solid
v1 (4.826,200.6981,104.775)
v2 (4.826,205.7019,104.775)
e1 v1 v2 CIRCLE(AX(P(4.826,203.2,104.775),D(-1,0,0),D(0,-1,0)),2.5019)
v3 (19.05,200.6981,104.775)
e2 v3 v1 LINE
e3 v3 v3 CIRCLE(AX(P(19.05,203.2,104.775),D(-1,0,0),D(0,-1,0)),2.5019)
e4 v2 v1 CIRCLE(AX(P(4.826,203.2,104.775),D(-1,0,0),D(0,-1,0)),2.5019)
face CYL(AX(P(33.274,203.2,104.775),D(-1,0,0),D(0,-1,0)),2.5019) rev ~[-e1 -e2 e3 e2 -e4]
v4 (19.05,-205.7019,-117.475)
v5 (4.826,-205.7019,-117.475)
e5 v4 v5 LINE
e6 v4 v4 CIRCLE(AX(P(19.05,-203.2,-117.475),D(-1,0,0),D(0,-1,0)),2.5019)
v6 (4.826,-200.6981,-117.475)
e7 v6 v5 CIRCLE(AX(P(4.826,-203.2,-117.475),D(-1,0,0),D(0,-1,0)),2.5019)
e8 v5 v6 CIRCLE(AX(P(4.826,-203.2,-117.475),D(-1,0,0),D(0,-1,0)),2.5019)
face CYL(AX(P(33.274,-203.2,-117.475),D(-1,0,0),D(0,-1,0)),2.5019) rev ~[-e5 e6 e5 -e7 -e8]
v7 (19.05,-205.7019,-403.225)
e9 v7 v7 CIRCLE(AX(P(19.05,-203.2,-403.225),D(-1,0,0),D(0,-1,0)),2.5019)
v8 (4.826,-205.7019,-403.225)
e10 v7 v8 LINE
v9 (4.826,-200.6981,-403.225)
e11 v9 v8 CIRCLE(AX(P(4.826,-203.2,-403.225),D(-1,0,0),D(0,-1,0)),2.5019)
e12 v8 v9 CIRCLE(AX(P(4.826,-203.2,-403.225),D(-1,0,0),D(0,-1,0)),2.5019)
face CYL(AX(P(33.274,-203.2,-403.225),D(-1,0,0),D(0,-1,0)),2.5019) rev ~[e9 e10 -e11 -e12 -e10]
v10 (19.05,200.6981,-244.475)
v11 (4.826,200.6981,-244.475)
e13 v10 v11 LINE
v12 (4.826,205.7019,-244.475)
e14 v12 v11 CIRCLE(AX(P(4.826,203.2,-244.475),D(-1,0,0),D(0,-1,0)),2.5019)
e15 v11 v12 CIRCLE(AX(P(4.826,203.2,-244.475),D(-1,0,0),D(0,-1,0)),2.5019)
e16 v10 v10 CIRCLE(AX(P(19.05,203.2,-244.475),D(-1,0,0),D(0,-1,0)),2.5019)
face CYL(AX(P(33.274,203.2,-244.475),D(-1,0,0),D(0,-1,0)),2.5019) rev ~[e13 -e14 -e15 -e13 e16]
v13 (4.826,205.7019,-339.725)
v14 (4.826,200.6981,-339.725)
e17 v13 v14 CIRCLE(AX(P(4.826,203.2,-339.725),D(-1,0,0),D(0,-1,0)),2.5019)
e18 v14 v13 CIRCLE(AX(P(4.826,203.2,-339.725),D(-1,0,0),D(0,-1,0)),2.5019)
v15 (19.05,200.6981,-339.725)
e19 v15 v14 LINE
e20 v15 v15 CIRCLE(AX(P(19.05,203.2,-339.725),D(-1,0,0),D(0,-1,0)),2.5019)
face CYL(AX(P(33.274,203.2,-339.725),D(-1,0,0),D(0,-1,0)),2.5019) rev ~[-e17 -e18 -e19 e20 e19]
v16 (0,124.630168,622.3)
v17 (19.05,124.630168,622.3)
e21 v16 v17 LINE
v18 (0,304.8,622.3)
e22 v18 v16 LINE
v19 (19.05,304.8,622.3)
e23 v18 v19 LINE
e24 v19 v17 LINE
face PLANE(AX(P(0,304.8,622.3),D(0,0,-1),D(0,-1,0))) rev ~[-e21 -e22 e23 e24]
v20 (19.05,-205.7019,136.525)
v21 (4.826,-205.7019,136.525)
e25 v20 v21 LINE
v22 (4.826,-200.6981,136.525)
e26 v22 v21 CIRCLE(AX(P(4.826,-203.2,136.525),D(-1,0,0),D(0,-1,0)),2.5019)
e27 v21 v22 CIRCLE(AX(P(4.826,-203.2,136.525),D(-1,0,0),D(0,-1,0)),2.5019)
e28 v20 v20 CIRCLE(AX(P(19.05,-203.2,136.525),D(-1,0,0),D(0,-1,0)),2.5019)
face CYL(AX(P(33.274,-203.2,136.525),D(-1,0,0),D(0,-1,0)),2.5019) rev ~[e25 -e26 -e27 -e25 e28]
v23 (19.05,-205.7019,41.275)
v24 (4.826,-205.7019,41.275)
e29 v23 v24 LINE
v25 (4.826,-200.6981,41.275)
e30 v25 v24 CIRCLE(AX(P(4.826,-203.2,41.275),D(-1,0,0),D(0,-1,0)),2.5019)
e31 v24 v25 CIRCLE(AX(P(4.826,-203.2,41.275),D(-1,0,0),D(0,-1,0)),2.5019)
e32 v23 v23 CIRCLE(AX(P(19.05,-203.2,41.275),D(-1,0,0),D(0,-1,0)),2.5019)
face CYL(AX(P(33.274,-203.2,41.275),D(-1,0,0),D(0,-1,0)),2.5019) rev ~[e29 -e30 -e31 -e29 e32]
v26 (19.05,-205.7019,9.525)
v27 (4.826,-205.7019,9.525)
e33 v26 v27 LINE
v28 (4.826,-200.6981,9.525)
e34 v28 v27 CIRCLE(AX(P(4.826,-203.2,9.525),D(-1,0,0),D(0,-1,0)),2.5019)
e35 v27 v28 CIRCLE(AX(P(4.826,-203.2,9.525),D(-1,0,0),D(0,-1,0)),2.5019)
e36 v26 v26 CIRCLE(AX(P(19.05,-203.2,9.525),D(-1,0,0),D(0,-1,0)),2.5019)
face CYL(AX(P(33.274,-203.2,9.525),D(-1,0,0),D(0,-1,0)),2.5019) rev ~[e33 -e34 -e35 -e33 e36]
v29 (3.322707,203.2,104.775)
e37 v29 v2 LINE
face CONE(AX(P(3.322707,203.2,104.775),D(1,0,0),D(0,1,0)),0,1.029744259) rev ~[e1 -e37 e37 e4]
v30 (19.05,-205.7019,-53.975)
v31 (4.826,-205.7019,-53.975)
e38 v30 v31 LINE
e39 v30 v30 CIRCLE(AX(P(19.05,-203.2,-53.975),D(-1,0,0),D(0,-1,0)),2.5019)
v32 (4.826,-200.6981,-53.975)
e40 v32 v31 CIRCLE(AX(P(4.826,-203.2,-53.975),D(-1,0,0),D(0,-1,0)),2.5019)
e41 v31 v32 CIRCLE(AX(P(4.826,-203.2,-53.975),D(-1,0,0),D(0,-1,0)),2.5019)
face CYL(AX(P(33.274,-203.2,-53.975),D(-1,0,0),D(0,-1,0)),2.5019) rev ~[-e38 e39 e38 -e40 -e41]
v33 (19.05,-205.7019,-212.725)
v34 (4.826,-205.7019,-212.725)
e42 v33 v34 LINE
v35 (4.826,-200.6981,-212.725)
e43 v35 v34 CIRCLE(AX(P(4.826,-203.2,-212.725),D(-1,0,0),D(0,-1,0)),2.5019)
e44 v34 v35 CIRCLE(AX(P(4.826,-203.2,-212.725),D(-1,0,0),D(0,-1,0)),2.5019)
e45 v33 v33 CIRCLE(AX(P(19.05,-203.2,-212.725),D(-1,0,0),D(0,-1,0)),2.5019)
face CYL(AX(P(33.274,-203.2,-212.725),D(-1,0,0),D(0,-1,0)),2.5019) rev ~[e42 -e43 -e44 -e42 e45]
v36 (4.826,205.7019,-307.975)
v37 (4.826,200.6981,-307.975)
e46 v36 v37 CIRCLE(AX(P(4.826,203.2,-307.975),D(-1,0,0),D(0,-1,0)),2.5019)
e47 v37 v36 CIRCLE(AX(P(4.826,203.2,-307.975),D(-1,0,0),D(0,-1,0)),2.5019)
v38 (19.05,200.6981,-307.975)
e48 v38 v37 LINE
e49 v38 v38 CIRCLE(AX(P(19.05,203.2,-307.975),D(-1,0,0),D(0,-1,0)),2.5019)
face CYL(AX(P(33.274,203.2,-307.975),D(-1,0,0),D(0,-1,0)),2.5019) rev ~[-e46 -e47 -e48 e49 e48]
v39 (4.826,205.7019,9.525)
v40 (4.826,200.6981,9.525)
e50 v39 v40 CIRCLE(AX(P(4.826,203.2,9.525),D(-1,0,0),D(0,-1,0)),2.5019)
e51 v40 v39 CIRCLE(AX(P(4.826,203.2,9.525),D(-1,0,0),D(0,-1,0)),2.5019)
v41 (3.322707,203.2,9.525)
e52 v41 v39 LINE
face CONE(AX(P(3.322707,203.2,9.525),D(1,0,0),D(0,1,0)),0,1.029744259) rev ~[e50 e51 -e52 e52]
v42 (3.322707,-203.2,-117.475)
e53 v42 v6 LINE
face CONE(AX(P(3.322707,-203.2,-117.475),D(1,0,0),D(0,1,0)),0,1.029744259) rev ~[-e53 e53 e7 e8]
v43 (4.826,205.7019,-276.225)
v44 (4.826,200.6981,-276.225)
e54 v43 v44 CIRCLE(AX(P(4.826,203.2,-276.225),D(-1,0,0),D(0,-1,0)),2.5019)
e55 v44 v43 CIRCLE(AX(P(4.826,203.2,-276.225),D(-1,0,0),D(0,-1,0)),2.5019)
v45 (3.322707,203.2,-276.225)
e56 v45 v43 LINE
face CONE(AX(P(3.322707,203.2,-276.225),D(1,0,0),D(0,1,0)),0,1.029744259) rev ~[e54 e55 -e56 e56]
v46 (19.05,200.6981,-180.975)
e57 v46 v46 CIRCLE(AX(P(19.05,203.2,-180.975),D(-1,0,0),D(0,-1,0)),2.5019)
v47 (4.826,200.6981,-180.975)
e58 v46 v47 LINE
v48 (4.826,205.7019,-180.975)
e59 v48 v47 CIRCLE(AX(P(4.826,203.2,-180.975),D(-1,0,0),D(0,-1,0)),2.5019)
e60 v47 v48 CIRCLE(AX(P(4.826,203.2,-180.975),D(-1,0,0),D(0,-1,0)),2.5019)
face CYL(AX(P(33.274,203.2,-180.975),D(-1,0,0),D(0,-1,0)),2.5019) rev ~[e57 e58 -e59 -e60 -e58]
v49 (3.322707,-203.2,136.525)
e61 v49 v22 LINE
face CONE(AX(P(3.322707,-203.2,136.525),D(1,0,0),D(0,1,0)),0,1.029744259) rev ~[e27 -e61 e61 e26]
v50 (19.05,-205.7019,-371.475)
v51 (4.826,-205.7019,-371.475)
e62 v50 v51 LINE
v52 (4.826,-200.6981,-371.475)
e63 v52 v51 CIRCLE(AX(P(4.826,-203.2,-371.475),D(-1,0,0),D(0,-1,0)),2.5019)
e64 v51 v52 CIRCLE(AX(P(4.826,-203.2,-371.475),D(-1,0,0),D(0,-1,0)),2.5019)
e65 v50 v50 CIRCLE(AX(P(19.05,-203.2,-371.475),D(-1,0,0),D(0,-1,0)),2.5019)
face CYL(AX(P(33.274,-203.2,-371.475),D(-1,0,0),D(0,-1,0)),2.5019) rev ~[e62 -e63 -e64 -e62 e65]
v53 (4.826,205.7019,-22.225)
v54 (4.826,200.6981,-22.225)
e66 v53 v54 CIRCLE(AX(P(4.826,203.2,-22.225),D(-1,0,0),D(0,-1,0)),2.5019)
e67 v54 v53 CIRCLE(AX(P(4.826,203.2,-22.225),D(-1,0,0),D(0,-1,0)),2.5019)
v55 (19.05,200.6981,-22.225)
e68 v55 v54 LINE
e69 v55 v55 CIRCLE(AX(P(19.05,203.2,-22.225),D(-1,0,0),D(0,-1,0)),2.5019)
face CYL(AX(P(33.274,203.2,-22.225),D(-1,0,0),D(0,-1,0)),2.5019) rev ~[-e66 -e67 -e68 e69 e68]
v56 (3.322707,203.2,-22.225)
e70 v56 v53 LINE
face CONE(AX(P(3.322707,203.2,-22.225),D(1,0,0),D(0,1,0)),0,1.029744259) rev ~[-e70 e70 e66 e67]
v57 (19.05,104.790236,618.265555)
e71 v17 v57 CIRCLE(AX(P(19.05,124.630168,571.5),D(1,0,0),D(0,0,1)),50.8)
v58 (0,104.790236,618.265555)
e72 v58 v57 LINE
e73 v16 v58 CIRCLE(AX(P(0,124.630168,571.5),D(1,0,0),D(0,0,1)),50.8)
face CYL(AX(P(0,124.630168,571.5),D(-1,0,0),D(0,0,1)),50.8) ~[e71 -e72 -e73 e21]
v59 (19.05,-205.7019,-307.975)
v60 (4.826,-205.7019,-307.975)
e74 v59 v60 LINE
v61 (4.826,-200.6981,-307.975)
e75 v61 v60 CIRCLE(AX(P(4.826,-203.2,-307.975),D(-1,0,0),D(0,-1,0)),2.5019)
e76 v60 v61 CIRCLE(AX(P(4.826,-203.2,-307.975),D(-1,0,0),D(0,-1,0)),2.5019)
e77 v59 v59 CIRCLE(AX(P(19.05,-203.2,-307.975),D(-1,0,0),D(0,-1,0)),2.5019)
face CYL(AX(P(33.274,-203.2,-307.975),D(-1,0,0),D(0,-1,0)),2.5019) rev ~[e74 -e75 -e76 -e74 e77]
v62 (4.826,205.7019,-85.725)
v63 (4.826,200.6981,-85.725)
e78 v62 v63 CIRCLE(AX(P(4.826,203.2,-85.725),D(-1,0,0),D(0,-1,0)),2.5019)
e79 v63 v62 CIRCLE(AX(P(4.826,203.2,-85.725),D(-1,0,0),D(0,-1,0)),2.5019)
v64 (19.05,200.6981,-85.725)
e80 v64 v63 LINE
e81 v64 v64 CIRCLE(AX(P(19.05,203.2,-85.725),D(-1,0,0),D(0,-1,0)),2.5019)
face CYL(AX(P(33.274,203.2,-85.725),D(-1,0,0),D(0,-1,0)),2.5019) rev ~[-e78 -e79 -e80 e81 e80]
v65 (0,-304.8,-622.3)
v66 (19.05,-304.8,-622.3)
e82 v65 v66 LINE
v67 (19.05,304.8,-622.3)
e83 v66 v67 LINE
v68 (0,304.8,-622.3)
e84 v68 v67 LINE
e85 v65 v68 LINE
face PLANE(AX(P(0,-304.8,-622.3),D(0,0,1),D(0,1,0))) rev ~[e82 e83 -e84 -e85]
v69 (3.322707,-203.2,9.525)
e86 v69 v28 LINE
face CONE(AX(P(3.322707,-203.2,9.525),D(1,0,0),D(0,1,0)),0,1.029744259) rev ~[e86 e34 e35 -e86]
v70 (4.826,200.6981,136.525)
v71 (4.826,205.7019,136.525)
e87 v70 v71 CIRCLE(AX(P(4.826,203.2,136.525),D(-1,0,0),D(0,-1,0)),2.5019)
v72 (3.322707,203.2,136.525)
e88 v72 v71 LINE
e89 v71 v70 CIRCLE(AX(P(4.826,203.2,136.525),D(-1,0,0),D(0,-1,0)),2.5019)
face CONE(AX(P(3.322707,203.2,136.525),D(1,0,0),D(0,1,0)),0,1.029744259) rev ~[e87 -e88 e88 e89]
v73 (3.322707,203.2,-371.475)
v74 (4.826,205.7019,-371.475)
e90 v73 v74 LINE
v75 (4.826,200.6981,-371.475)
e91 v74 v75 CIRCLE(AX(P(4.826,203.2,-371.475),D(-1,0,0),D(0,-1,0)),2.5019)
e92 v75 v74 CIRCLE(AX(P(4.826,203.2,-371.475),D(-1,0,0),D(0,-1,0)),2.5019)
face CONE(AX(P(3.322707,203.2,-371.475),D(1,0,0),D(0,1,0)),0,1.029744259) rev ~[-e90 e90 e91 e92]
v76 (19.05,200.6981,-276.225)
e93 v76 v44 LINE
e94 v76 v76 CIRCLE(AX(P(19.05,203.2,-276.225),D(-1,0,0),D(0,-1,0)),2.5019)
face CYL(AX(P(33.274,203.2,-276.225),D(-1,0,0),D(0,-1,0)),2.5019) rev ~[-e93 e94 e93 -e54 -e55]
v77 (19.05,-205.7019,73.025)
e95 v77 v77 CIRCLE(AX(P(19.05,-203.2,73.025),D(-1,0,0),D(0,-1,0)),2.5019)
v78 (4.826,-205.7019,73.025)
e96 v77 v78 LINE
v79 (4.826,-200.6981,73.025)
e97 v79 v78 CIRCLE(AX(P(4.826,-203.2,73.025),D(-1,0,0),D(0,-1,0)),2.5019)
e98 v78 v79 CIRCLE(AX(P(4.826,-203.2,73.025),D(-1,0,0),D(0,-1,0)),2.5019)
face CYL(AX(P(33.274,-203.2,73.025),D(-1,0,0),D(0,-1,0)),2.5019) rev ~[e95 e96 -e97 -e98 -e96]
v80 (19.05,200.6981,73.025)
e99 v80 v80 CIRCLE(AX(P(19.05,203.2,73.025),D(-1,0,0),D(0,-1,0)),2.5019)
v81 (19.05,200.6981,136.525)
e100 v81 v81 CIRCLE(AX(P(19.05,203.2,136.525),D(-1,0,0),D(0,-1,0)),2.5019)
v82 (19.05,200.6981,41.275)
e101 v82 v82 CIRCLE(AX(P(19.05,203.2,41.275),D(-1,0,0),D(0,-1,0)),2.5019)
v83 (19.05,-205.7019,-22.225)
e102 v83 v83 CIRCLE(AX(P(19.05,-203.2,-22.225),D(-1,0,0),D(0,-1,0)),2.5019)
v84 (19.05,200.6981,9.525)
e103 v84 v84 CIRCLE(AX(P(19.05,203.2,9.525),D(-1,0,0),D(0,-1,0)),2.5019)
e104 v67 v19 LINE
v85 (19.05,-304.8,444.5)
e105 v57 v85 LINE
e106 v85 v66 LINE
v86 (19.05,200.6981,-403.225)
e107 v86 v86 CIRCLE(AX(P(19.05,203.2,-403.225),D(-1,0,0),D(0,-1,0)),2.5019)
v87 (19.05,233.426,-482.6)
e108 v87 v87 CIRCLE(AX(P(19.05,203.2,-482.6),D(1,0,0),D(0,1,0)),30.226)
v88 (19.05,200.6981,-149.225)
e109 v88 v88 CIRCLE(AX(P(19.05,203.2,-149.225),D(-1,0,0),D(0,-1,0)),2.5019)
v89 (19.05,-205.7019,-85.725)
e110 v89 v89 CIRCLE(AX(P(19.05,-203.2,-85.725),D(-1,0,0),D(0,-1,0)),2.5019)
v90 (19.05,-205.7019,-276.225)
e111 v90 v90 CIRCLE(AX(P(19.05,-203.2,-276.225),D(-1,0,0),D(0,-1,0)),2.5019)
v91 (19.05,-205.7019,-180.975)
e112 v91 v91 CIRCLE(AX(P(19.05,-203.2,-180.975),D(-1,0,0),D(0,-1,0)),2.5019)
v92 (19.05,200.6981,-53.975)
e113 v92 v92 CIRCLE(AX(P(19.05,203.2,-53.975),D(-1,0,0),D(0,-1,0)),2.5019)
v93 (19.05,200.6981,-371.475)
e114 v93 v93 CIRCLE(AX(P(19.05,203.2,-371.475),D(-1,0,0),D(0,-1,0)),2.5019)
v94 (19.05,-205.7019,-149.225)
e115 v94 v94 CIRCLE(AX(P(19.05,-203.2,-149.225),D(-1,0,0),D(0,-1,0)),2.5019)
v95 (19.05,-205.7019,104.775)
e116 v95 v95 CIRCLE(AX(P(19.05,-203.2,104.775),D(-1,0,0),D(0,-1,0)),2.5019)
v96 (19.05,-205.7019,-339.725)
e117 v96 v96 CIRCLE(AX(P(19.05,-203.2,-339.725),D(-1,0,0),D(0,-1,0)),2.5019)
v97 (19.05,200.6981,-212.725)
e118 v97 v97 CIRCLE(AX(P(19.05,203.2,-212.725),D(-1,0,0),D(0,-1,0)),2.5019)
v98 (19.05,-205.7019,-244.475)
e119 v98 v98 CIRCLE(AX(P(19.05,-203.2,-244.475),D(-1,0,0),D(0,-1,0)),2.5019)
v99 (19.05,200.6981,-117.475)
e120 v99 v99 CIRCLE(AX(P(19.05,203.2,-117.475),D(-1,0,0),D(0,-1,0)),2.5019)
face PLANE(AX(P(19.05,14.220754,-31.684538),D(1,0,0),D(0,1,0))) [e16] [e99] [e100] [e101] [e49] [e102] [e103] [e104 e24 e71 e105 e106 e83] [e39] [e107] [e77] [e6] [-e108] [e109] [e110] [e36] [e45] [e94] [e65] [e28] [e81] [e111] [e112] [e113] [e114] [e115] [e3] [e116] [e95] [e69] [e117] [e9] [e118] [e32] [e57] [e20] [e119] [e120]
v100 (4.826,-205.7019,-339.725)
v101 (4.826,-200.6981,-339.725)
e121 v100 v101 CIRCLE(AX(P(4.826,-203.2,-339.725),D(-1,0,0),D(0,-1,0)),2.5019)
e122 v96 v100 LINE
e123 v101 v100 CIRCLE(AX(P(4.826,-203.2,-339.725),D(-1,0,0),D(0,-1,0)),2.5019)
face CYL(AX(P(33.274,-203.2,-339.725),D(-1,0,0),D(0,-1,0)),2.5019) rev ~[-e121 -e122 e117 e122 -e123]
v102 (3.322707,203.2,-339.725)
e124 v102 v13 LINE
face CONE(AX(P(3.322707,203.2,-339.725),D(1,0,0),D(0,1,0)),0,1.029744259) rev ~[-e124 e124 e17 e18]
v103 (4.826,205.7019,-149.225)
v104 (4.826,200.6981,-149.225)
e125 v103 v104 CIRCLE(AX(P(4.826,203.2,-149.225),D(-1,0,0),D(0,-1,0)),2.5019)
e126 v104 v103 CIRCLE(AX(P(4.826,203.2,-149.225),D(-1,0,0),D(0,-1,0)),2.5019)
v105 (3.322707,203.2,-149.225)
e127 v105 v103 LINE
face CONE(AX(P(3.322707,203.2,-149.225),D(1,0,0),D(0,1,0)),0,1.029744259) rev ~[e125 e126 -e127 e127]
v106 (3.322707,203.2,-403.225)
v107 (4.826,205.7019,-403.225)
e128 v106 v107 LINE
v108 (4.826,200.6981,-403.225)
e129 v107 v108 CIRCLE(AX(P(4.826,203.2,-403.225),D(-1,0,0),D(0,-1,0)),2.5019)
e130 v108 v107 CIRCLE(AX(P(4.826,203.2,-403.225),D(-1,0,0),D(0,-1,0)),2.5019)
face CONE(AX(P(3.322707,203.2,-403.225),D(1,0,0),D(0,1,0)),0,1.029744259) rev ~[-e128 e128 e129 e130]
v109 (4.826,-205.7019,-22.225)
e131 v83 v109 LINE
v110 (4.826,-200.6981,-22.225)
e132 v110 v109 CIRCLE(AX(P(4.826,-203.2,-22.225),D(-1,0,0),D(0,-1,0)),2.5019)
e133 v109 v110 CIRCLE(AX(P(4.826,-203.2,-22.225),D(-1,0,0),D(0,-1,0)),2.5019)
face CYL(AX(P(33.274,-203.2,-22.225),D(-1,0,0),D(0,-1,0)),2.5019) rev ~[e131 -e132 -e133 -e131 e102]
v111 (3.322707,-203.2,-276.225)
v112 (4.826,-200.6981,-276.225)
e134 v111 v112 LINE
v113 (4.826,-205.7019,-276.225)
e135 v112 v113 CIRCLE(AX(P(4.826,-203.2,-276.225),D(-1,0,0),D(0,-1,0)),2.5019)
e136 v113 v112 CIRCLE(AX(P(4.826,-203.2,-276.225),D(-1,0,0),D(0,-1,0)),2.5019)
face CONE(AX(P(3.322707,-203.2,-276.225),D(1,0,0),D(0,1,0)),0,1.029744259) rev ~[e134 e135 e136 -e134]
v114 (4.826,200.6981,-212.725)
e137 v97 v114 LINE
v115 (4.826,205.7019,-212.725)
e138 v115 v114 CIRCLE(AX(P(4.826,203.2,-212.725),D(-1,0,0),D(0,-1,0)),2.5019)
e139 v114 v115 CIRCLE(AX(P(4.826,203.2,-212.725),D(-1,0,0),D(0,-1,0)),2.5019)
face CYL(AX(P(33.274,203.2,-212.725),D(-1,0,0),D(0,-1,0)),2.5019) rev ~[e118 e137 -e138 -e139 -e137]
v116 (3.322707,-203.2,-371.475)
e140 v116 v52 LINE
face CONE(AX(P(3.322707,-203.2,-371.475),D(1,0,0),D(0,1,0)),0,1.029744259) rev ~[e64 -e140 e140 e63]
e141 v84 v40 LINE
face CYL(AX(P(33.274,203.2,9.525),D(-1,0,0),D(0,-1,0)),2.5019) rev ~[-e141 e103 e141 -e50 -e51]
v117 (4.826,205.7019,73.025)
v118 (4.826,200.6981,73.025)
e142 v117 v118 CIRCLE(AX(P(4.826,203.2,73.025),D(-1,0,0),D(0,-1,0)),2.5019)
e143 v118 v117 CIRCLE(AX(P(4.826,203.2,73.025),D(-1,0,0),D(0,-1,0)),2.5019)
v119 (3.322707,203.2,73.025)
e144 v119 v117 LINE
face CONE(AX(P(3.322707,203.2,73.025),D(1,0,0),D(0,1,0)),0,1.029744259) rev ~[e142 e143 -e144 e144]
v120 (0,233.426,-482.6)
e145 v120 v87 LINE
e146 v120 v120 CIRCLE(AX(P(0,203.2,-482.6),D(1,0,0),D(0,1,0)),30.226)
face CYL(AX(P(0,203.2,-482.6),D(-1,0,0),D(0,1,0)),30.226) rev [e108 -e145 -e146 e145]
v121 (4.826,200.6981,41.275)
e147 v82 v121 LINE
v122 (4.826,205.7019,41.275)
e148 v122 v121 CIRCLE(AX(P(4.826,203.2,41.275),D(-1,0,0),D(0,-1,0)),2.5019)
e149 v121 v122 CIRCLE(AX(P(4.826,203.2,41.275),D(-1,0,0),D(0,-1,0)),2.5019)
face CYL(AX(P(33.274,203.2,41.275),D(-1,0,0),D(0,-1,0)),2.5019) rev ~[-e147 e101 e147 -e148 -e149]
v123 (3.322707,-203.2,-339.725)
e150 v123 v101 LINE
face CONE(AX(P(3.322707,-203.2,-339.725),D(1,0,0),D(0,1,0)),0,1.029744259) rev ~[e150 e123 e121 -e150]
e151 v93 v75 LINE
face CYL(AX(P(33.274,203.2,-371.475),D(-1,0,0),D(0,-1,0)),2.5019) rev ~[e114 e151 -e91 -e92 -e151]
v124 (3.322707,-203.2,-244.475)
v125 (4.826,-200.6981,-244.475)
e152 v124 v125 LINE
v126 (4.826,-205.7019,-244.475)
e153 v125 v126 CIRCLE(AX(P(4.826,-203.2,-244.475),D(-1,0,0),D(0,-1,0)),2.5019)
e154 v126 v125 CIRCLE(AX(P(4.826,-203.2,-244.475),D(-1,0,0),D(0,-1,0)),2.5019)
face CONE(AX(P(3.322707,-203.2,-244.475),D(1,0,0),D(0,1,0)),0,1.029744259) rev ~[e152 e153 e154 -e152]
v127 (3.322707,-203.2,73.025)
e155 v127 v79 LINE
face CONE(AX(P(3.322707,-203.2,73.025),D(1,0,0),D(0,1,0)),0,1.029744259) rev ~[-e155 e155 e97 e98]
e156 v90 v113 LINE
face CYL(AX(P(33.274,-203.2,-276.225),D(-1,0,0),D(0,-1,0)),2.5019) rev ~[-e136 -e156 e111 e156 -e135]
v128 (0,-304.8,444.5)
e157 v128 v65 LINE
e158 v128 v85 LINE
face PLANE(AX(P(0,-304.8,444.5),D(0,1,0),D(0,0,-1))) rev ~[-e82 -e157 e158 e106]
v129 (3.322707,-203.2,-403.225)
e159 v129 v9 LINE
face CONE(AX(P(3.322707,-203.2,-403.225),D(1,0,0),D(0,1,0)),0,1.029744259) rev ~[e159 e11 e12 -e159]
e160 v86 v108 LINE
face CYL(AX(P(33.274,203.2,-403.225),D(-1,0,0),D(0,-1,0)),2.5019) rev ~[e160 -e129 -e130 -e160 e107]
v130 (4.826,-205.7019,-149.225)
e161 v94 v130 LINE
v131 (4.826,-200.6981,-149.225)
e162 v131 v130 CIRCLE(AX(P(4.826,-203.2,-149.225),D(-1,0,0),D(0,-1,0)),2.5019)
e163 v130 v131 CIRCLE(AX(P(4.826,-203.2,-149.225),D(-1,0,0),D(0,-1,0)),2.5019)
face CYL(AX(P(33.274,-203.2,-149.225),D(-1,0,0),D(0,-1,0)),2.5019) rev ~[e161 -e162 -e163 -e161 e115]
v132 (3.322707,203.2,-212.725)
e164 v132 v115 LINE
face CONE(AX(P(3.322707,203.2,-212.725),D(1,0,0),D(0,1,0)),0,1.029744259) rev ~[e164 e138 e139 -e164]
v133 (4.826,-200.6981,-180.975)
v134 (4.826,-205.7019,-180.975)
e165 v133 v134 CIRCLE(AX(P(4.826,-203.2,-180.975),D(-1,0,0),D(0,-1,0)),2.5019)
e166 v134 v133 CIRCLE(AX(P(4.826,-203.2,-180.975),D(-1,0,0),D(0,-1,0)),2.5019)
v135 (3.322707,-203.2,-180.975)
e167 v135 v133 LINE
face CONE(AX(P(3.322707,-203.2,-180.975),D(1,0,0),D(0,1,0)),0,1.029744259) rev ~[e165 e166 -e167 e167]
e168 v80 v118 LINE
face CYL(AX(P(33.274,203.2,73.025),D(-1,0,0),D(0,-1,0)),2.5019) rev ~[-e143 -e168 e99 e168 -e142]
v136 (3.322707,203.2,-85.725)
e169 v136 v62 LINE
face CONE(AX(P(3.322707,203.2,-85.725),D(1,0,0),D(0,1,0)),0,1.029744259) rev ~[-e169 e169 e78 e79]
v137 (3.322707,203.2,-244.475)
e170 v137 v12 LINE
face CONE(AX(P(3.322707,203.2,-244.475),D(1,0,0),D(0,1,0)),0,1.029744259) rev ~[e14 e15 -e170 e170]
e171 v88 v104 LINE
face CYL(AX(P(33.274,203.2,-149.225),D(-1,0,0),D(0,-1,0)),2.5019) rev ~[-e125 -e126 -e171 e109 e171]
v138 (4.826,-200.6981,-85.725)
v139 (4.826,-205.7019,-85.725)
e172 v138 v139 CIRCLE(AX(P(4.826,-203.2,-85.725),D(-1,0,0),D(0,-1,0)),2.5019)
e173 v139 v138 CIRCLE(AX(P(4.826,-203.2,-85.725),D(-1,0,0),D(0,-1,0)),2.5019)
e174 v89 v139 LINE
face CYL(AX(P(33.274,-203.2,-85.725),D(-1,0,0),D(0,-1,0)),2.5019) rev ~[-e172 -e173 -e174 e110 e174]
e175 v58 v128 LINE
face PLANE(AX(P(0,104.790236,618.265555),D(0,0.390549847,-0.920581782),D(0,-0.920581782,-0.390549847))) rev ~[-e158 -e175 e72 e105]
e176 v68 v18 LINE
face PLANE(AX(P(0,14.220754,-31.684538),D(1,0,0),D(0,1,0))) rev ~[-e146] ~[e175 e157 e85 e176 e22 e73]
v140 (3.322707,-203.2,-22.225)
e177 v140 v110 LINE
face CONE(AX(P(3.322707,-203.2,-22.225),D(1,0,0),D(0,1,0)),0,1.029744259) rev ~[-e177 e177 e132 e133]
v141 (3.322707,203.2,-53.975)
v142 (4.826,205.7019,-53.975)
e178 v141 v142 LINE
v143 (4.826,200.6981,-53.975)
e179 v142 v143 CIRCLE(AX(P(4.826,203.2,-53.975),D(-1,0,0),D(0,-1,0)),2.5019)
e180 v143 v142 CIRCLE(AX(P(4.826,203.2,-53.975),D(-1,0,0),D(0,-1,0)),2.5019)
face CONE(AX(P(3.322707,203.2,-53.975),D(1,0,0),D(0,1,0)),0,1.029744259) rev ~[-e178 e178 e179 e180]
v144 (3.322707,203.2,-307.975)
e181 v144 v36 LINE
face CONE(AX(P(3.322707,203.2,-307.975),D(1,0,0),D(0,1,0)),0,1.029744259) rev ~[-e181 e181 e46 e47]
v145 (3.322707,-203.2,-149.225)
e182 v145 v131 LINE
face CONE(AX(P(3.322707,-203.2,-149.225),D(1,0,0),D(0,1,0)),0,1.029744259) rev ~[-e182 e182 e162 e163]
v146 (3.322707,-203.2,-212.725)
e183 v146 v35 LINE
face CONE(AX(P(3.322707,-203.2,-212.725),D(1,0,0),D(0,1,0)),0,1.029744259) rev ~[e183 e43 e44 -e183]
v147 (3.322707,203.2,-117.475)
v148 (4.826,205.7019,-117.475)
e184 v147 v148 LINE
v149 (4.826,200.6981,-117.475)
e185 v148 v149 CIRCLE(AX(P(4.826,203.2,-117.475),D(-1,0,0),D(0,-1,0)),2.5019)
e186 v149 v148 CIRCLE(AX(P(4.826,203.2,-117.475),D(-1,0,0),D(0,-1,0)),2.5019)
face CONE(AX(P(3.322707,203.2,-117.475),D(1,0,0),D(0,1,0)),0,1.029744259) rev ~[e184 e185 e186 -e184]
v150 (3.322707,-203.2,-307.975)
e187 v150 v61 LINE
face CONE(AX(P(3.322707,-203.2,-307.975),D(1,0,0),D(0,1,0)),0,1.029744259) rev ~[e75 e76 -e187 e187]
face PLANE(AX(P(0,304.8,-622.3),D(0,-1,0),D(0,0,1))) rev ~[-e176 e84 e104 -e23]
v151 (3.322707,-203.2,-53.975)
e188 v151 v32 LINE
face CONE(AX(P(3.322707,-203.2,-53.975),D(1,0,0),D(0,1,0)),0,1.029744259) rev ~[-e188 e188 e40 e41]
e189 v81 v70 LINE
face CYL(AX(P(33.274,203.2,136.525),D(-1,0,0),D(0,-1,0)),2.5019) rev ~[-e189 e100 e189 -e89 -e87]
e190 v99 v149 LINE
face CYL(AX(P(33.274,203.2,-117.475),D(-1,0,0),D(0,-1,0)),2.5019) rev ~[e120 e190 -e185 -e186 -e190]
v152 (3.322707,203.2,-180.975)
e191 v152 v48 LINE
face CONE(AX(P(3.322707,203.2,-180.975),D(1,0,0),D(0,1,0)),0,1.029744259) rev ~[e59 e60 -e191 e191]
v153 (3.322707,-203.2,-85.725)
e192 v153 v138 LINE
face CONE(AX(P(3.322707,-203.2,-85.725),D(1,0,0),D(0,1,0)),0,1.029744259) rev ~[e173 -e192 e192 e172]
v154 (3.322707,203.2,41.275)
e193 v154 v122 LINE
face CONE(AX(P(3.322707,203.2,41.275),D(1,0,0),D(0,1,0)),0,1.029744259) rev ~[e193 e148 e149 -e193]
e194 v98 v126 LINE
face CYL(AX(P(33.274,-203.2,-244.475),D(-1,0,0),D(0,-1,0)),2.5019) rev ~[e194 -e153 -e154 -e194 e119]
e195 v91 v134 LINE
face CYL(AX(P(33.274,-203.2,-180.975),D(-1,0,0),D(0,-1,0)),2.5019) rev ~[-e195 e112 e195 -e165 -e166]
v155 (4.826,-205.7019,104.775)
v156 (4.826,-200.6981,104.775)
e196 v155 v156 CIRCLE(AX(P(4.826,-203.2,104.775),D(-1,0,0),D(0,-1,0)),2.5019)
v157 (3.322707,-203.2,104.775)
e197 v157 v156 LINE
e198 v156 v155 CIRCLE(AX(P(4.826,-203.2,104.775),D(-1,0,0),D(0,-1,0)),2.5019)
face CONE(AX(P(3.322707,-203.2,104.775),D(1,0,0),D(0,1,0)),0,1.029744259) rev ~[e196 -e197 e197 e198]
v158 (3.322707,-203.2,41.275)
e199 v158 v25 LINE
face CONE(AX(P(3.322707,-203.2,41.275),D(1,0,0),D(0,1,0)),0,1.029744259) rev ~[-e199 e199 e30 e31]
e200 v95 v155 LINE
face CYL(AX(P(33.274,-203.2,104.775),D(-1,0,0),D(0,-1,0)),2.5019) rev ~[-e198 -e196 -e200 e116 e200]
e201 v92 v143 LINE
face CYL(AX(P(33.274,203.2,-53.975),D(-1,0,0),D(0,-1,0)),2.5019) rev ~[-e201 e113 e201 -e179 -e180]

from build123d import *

# Parameters (mm, degrees)
F0_R     = 30.226
F1_DEPTH = 19.05
F3_D     = 5.0038
F3_DEPTH = 14.224
F3_TIP   = 1.5032931827


with BuildPart() as f1:
    # F0 (on Right) → F1 (new body)
    with BuildSketch(Plane.YZ):
        with BuildLine():
            Line((304.8, -482.6), (304.8, 622.3))
            Line((304.8, 622.3), (124.6301678728, 622.3))
            ThreePointArc((124.6301678728, 622.3), (114.5071784324, 621.2811719909), (104.7902356525, 618.2655545193))
            Line((104.7902356525, 618.2655545193), (-304.8, 444.5))
            Line((-304.8, 444.5), (-304.8, 396.875))
            Line((-304.8, 396.875), (-304.8, -622.3))
            Line((-304.8, -622.3), (304.8, -622.3))
            Line((304.8, -622.3), (304.8, -482.6))
        make_face()
        with Locations((203.2, -482.6)):
            Circle(F0_R, mode=Mode.SUBTRACT)
    extrude(amount=F1_DEPTH)

    # F3
    with Locations(Plane.YZ.offset(19.05)):
        with Locations((-203.2, 136.525), (-203.2, 104.775), (-203.2, 73.025), (-203.2, 41.275), (-203.2, 9.525), (-203.2, -22.225), (-203.2, -53.975), (-203.2, -85.725), (-203.2, -117.475), (-203.2, -149.225), (-203.2, -180.975), (-203.2, -212.725), (-203.2, -244.475), (-203.2, -276.225), (-203.2, -307.975), (-203.2, -339.725), (-203.2, -371.475), (-203.2, -403.225), (203.2, -403.225), (203.2, -371.475), (203.2, -339.725), (203.2, -307.975), (203.2, -276.225), (203.2, -244.475), (203.2, -212.725), (203.2, -180.975), (203.2, -149.225), (203.2, -117.475), (203.2, -85.725), (203.2, -53.975), (203.2, -22.225), (203.2, 9.525), (203.2, 41.275), (203.2, 73.025), (203.2, 104.775), (203.2, 136.525)):
            Hole(F3_D / 2, depth=F3_DEPTH)
            with Locations((0, 0, -(F3_DEPTH + F3_TIP / 2))):  # 118° drill point
                Cone(0, F3_D / 2, F3_TIP, mode=Mode.SUBTRACT)


solid = f1.part
